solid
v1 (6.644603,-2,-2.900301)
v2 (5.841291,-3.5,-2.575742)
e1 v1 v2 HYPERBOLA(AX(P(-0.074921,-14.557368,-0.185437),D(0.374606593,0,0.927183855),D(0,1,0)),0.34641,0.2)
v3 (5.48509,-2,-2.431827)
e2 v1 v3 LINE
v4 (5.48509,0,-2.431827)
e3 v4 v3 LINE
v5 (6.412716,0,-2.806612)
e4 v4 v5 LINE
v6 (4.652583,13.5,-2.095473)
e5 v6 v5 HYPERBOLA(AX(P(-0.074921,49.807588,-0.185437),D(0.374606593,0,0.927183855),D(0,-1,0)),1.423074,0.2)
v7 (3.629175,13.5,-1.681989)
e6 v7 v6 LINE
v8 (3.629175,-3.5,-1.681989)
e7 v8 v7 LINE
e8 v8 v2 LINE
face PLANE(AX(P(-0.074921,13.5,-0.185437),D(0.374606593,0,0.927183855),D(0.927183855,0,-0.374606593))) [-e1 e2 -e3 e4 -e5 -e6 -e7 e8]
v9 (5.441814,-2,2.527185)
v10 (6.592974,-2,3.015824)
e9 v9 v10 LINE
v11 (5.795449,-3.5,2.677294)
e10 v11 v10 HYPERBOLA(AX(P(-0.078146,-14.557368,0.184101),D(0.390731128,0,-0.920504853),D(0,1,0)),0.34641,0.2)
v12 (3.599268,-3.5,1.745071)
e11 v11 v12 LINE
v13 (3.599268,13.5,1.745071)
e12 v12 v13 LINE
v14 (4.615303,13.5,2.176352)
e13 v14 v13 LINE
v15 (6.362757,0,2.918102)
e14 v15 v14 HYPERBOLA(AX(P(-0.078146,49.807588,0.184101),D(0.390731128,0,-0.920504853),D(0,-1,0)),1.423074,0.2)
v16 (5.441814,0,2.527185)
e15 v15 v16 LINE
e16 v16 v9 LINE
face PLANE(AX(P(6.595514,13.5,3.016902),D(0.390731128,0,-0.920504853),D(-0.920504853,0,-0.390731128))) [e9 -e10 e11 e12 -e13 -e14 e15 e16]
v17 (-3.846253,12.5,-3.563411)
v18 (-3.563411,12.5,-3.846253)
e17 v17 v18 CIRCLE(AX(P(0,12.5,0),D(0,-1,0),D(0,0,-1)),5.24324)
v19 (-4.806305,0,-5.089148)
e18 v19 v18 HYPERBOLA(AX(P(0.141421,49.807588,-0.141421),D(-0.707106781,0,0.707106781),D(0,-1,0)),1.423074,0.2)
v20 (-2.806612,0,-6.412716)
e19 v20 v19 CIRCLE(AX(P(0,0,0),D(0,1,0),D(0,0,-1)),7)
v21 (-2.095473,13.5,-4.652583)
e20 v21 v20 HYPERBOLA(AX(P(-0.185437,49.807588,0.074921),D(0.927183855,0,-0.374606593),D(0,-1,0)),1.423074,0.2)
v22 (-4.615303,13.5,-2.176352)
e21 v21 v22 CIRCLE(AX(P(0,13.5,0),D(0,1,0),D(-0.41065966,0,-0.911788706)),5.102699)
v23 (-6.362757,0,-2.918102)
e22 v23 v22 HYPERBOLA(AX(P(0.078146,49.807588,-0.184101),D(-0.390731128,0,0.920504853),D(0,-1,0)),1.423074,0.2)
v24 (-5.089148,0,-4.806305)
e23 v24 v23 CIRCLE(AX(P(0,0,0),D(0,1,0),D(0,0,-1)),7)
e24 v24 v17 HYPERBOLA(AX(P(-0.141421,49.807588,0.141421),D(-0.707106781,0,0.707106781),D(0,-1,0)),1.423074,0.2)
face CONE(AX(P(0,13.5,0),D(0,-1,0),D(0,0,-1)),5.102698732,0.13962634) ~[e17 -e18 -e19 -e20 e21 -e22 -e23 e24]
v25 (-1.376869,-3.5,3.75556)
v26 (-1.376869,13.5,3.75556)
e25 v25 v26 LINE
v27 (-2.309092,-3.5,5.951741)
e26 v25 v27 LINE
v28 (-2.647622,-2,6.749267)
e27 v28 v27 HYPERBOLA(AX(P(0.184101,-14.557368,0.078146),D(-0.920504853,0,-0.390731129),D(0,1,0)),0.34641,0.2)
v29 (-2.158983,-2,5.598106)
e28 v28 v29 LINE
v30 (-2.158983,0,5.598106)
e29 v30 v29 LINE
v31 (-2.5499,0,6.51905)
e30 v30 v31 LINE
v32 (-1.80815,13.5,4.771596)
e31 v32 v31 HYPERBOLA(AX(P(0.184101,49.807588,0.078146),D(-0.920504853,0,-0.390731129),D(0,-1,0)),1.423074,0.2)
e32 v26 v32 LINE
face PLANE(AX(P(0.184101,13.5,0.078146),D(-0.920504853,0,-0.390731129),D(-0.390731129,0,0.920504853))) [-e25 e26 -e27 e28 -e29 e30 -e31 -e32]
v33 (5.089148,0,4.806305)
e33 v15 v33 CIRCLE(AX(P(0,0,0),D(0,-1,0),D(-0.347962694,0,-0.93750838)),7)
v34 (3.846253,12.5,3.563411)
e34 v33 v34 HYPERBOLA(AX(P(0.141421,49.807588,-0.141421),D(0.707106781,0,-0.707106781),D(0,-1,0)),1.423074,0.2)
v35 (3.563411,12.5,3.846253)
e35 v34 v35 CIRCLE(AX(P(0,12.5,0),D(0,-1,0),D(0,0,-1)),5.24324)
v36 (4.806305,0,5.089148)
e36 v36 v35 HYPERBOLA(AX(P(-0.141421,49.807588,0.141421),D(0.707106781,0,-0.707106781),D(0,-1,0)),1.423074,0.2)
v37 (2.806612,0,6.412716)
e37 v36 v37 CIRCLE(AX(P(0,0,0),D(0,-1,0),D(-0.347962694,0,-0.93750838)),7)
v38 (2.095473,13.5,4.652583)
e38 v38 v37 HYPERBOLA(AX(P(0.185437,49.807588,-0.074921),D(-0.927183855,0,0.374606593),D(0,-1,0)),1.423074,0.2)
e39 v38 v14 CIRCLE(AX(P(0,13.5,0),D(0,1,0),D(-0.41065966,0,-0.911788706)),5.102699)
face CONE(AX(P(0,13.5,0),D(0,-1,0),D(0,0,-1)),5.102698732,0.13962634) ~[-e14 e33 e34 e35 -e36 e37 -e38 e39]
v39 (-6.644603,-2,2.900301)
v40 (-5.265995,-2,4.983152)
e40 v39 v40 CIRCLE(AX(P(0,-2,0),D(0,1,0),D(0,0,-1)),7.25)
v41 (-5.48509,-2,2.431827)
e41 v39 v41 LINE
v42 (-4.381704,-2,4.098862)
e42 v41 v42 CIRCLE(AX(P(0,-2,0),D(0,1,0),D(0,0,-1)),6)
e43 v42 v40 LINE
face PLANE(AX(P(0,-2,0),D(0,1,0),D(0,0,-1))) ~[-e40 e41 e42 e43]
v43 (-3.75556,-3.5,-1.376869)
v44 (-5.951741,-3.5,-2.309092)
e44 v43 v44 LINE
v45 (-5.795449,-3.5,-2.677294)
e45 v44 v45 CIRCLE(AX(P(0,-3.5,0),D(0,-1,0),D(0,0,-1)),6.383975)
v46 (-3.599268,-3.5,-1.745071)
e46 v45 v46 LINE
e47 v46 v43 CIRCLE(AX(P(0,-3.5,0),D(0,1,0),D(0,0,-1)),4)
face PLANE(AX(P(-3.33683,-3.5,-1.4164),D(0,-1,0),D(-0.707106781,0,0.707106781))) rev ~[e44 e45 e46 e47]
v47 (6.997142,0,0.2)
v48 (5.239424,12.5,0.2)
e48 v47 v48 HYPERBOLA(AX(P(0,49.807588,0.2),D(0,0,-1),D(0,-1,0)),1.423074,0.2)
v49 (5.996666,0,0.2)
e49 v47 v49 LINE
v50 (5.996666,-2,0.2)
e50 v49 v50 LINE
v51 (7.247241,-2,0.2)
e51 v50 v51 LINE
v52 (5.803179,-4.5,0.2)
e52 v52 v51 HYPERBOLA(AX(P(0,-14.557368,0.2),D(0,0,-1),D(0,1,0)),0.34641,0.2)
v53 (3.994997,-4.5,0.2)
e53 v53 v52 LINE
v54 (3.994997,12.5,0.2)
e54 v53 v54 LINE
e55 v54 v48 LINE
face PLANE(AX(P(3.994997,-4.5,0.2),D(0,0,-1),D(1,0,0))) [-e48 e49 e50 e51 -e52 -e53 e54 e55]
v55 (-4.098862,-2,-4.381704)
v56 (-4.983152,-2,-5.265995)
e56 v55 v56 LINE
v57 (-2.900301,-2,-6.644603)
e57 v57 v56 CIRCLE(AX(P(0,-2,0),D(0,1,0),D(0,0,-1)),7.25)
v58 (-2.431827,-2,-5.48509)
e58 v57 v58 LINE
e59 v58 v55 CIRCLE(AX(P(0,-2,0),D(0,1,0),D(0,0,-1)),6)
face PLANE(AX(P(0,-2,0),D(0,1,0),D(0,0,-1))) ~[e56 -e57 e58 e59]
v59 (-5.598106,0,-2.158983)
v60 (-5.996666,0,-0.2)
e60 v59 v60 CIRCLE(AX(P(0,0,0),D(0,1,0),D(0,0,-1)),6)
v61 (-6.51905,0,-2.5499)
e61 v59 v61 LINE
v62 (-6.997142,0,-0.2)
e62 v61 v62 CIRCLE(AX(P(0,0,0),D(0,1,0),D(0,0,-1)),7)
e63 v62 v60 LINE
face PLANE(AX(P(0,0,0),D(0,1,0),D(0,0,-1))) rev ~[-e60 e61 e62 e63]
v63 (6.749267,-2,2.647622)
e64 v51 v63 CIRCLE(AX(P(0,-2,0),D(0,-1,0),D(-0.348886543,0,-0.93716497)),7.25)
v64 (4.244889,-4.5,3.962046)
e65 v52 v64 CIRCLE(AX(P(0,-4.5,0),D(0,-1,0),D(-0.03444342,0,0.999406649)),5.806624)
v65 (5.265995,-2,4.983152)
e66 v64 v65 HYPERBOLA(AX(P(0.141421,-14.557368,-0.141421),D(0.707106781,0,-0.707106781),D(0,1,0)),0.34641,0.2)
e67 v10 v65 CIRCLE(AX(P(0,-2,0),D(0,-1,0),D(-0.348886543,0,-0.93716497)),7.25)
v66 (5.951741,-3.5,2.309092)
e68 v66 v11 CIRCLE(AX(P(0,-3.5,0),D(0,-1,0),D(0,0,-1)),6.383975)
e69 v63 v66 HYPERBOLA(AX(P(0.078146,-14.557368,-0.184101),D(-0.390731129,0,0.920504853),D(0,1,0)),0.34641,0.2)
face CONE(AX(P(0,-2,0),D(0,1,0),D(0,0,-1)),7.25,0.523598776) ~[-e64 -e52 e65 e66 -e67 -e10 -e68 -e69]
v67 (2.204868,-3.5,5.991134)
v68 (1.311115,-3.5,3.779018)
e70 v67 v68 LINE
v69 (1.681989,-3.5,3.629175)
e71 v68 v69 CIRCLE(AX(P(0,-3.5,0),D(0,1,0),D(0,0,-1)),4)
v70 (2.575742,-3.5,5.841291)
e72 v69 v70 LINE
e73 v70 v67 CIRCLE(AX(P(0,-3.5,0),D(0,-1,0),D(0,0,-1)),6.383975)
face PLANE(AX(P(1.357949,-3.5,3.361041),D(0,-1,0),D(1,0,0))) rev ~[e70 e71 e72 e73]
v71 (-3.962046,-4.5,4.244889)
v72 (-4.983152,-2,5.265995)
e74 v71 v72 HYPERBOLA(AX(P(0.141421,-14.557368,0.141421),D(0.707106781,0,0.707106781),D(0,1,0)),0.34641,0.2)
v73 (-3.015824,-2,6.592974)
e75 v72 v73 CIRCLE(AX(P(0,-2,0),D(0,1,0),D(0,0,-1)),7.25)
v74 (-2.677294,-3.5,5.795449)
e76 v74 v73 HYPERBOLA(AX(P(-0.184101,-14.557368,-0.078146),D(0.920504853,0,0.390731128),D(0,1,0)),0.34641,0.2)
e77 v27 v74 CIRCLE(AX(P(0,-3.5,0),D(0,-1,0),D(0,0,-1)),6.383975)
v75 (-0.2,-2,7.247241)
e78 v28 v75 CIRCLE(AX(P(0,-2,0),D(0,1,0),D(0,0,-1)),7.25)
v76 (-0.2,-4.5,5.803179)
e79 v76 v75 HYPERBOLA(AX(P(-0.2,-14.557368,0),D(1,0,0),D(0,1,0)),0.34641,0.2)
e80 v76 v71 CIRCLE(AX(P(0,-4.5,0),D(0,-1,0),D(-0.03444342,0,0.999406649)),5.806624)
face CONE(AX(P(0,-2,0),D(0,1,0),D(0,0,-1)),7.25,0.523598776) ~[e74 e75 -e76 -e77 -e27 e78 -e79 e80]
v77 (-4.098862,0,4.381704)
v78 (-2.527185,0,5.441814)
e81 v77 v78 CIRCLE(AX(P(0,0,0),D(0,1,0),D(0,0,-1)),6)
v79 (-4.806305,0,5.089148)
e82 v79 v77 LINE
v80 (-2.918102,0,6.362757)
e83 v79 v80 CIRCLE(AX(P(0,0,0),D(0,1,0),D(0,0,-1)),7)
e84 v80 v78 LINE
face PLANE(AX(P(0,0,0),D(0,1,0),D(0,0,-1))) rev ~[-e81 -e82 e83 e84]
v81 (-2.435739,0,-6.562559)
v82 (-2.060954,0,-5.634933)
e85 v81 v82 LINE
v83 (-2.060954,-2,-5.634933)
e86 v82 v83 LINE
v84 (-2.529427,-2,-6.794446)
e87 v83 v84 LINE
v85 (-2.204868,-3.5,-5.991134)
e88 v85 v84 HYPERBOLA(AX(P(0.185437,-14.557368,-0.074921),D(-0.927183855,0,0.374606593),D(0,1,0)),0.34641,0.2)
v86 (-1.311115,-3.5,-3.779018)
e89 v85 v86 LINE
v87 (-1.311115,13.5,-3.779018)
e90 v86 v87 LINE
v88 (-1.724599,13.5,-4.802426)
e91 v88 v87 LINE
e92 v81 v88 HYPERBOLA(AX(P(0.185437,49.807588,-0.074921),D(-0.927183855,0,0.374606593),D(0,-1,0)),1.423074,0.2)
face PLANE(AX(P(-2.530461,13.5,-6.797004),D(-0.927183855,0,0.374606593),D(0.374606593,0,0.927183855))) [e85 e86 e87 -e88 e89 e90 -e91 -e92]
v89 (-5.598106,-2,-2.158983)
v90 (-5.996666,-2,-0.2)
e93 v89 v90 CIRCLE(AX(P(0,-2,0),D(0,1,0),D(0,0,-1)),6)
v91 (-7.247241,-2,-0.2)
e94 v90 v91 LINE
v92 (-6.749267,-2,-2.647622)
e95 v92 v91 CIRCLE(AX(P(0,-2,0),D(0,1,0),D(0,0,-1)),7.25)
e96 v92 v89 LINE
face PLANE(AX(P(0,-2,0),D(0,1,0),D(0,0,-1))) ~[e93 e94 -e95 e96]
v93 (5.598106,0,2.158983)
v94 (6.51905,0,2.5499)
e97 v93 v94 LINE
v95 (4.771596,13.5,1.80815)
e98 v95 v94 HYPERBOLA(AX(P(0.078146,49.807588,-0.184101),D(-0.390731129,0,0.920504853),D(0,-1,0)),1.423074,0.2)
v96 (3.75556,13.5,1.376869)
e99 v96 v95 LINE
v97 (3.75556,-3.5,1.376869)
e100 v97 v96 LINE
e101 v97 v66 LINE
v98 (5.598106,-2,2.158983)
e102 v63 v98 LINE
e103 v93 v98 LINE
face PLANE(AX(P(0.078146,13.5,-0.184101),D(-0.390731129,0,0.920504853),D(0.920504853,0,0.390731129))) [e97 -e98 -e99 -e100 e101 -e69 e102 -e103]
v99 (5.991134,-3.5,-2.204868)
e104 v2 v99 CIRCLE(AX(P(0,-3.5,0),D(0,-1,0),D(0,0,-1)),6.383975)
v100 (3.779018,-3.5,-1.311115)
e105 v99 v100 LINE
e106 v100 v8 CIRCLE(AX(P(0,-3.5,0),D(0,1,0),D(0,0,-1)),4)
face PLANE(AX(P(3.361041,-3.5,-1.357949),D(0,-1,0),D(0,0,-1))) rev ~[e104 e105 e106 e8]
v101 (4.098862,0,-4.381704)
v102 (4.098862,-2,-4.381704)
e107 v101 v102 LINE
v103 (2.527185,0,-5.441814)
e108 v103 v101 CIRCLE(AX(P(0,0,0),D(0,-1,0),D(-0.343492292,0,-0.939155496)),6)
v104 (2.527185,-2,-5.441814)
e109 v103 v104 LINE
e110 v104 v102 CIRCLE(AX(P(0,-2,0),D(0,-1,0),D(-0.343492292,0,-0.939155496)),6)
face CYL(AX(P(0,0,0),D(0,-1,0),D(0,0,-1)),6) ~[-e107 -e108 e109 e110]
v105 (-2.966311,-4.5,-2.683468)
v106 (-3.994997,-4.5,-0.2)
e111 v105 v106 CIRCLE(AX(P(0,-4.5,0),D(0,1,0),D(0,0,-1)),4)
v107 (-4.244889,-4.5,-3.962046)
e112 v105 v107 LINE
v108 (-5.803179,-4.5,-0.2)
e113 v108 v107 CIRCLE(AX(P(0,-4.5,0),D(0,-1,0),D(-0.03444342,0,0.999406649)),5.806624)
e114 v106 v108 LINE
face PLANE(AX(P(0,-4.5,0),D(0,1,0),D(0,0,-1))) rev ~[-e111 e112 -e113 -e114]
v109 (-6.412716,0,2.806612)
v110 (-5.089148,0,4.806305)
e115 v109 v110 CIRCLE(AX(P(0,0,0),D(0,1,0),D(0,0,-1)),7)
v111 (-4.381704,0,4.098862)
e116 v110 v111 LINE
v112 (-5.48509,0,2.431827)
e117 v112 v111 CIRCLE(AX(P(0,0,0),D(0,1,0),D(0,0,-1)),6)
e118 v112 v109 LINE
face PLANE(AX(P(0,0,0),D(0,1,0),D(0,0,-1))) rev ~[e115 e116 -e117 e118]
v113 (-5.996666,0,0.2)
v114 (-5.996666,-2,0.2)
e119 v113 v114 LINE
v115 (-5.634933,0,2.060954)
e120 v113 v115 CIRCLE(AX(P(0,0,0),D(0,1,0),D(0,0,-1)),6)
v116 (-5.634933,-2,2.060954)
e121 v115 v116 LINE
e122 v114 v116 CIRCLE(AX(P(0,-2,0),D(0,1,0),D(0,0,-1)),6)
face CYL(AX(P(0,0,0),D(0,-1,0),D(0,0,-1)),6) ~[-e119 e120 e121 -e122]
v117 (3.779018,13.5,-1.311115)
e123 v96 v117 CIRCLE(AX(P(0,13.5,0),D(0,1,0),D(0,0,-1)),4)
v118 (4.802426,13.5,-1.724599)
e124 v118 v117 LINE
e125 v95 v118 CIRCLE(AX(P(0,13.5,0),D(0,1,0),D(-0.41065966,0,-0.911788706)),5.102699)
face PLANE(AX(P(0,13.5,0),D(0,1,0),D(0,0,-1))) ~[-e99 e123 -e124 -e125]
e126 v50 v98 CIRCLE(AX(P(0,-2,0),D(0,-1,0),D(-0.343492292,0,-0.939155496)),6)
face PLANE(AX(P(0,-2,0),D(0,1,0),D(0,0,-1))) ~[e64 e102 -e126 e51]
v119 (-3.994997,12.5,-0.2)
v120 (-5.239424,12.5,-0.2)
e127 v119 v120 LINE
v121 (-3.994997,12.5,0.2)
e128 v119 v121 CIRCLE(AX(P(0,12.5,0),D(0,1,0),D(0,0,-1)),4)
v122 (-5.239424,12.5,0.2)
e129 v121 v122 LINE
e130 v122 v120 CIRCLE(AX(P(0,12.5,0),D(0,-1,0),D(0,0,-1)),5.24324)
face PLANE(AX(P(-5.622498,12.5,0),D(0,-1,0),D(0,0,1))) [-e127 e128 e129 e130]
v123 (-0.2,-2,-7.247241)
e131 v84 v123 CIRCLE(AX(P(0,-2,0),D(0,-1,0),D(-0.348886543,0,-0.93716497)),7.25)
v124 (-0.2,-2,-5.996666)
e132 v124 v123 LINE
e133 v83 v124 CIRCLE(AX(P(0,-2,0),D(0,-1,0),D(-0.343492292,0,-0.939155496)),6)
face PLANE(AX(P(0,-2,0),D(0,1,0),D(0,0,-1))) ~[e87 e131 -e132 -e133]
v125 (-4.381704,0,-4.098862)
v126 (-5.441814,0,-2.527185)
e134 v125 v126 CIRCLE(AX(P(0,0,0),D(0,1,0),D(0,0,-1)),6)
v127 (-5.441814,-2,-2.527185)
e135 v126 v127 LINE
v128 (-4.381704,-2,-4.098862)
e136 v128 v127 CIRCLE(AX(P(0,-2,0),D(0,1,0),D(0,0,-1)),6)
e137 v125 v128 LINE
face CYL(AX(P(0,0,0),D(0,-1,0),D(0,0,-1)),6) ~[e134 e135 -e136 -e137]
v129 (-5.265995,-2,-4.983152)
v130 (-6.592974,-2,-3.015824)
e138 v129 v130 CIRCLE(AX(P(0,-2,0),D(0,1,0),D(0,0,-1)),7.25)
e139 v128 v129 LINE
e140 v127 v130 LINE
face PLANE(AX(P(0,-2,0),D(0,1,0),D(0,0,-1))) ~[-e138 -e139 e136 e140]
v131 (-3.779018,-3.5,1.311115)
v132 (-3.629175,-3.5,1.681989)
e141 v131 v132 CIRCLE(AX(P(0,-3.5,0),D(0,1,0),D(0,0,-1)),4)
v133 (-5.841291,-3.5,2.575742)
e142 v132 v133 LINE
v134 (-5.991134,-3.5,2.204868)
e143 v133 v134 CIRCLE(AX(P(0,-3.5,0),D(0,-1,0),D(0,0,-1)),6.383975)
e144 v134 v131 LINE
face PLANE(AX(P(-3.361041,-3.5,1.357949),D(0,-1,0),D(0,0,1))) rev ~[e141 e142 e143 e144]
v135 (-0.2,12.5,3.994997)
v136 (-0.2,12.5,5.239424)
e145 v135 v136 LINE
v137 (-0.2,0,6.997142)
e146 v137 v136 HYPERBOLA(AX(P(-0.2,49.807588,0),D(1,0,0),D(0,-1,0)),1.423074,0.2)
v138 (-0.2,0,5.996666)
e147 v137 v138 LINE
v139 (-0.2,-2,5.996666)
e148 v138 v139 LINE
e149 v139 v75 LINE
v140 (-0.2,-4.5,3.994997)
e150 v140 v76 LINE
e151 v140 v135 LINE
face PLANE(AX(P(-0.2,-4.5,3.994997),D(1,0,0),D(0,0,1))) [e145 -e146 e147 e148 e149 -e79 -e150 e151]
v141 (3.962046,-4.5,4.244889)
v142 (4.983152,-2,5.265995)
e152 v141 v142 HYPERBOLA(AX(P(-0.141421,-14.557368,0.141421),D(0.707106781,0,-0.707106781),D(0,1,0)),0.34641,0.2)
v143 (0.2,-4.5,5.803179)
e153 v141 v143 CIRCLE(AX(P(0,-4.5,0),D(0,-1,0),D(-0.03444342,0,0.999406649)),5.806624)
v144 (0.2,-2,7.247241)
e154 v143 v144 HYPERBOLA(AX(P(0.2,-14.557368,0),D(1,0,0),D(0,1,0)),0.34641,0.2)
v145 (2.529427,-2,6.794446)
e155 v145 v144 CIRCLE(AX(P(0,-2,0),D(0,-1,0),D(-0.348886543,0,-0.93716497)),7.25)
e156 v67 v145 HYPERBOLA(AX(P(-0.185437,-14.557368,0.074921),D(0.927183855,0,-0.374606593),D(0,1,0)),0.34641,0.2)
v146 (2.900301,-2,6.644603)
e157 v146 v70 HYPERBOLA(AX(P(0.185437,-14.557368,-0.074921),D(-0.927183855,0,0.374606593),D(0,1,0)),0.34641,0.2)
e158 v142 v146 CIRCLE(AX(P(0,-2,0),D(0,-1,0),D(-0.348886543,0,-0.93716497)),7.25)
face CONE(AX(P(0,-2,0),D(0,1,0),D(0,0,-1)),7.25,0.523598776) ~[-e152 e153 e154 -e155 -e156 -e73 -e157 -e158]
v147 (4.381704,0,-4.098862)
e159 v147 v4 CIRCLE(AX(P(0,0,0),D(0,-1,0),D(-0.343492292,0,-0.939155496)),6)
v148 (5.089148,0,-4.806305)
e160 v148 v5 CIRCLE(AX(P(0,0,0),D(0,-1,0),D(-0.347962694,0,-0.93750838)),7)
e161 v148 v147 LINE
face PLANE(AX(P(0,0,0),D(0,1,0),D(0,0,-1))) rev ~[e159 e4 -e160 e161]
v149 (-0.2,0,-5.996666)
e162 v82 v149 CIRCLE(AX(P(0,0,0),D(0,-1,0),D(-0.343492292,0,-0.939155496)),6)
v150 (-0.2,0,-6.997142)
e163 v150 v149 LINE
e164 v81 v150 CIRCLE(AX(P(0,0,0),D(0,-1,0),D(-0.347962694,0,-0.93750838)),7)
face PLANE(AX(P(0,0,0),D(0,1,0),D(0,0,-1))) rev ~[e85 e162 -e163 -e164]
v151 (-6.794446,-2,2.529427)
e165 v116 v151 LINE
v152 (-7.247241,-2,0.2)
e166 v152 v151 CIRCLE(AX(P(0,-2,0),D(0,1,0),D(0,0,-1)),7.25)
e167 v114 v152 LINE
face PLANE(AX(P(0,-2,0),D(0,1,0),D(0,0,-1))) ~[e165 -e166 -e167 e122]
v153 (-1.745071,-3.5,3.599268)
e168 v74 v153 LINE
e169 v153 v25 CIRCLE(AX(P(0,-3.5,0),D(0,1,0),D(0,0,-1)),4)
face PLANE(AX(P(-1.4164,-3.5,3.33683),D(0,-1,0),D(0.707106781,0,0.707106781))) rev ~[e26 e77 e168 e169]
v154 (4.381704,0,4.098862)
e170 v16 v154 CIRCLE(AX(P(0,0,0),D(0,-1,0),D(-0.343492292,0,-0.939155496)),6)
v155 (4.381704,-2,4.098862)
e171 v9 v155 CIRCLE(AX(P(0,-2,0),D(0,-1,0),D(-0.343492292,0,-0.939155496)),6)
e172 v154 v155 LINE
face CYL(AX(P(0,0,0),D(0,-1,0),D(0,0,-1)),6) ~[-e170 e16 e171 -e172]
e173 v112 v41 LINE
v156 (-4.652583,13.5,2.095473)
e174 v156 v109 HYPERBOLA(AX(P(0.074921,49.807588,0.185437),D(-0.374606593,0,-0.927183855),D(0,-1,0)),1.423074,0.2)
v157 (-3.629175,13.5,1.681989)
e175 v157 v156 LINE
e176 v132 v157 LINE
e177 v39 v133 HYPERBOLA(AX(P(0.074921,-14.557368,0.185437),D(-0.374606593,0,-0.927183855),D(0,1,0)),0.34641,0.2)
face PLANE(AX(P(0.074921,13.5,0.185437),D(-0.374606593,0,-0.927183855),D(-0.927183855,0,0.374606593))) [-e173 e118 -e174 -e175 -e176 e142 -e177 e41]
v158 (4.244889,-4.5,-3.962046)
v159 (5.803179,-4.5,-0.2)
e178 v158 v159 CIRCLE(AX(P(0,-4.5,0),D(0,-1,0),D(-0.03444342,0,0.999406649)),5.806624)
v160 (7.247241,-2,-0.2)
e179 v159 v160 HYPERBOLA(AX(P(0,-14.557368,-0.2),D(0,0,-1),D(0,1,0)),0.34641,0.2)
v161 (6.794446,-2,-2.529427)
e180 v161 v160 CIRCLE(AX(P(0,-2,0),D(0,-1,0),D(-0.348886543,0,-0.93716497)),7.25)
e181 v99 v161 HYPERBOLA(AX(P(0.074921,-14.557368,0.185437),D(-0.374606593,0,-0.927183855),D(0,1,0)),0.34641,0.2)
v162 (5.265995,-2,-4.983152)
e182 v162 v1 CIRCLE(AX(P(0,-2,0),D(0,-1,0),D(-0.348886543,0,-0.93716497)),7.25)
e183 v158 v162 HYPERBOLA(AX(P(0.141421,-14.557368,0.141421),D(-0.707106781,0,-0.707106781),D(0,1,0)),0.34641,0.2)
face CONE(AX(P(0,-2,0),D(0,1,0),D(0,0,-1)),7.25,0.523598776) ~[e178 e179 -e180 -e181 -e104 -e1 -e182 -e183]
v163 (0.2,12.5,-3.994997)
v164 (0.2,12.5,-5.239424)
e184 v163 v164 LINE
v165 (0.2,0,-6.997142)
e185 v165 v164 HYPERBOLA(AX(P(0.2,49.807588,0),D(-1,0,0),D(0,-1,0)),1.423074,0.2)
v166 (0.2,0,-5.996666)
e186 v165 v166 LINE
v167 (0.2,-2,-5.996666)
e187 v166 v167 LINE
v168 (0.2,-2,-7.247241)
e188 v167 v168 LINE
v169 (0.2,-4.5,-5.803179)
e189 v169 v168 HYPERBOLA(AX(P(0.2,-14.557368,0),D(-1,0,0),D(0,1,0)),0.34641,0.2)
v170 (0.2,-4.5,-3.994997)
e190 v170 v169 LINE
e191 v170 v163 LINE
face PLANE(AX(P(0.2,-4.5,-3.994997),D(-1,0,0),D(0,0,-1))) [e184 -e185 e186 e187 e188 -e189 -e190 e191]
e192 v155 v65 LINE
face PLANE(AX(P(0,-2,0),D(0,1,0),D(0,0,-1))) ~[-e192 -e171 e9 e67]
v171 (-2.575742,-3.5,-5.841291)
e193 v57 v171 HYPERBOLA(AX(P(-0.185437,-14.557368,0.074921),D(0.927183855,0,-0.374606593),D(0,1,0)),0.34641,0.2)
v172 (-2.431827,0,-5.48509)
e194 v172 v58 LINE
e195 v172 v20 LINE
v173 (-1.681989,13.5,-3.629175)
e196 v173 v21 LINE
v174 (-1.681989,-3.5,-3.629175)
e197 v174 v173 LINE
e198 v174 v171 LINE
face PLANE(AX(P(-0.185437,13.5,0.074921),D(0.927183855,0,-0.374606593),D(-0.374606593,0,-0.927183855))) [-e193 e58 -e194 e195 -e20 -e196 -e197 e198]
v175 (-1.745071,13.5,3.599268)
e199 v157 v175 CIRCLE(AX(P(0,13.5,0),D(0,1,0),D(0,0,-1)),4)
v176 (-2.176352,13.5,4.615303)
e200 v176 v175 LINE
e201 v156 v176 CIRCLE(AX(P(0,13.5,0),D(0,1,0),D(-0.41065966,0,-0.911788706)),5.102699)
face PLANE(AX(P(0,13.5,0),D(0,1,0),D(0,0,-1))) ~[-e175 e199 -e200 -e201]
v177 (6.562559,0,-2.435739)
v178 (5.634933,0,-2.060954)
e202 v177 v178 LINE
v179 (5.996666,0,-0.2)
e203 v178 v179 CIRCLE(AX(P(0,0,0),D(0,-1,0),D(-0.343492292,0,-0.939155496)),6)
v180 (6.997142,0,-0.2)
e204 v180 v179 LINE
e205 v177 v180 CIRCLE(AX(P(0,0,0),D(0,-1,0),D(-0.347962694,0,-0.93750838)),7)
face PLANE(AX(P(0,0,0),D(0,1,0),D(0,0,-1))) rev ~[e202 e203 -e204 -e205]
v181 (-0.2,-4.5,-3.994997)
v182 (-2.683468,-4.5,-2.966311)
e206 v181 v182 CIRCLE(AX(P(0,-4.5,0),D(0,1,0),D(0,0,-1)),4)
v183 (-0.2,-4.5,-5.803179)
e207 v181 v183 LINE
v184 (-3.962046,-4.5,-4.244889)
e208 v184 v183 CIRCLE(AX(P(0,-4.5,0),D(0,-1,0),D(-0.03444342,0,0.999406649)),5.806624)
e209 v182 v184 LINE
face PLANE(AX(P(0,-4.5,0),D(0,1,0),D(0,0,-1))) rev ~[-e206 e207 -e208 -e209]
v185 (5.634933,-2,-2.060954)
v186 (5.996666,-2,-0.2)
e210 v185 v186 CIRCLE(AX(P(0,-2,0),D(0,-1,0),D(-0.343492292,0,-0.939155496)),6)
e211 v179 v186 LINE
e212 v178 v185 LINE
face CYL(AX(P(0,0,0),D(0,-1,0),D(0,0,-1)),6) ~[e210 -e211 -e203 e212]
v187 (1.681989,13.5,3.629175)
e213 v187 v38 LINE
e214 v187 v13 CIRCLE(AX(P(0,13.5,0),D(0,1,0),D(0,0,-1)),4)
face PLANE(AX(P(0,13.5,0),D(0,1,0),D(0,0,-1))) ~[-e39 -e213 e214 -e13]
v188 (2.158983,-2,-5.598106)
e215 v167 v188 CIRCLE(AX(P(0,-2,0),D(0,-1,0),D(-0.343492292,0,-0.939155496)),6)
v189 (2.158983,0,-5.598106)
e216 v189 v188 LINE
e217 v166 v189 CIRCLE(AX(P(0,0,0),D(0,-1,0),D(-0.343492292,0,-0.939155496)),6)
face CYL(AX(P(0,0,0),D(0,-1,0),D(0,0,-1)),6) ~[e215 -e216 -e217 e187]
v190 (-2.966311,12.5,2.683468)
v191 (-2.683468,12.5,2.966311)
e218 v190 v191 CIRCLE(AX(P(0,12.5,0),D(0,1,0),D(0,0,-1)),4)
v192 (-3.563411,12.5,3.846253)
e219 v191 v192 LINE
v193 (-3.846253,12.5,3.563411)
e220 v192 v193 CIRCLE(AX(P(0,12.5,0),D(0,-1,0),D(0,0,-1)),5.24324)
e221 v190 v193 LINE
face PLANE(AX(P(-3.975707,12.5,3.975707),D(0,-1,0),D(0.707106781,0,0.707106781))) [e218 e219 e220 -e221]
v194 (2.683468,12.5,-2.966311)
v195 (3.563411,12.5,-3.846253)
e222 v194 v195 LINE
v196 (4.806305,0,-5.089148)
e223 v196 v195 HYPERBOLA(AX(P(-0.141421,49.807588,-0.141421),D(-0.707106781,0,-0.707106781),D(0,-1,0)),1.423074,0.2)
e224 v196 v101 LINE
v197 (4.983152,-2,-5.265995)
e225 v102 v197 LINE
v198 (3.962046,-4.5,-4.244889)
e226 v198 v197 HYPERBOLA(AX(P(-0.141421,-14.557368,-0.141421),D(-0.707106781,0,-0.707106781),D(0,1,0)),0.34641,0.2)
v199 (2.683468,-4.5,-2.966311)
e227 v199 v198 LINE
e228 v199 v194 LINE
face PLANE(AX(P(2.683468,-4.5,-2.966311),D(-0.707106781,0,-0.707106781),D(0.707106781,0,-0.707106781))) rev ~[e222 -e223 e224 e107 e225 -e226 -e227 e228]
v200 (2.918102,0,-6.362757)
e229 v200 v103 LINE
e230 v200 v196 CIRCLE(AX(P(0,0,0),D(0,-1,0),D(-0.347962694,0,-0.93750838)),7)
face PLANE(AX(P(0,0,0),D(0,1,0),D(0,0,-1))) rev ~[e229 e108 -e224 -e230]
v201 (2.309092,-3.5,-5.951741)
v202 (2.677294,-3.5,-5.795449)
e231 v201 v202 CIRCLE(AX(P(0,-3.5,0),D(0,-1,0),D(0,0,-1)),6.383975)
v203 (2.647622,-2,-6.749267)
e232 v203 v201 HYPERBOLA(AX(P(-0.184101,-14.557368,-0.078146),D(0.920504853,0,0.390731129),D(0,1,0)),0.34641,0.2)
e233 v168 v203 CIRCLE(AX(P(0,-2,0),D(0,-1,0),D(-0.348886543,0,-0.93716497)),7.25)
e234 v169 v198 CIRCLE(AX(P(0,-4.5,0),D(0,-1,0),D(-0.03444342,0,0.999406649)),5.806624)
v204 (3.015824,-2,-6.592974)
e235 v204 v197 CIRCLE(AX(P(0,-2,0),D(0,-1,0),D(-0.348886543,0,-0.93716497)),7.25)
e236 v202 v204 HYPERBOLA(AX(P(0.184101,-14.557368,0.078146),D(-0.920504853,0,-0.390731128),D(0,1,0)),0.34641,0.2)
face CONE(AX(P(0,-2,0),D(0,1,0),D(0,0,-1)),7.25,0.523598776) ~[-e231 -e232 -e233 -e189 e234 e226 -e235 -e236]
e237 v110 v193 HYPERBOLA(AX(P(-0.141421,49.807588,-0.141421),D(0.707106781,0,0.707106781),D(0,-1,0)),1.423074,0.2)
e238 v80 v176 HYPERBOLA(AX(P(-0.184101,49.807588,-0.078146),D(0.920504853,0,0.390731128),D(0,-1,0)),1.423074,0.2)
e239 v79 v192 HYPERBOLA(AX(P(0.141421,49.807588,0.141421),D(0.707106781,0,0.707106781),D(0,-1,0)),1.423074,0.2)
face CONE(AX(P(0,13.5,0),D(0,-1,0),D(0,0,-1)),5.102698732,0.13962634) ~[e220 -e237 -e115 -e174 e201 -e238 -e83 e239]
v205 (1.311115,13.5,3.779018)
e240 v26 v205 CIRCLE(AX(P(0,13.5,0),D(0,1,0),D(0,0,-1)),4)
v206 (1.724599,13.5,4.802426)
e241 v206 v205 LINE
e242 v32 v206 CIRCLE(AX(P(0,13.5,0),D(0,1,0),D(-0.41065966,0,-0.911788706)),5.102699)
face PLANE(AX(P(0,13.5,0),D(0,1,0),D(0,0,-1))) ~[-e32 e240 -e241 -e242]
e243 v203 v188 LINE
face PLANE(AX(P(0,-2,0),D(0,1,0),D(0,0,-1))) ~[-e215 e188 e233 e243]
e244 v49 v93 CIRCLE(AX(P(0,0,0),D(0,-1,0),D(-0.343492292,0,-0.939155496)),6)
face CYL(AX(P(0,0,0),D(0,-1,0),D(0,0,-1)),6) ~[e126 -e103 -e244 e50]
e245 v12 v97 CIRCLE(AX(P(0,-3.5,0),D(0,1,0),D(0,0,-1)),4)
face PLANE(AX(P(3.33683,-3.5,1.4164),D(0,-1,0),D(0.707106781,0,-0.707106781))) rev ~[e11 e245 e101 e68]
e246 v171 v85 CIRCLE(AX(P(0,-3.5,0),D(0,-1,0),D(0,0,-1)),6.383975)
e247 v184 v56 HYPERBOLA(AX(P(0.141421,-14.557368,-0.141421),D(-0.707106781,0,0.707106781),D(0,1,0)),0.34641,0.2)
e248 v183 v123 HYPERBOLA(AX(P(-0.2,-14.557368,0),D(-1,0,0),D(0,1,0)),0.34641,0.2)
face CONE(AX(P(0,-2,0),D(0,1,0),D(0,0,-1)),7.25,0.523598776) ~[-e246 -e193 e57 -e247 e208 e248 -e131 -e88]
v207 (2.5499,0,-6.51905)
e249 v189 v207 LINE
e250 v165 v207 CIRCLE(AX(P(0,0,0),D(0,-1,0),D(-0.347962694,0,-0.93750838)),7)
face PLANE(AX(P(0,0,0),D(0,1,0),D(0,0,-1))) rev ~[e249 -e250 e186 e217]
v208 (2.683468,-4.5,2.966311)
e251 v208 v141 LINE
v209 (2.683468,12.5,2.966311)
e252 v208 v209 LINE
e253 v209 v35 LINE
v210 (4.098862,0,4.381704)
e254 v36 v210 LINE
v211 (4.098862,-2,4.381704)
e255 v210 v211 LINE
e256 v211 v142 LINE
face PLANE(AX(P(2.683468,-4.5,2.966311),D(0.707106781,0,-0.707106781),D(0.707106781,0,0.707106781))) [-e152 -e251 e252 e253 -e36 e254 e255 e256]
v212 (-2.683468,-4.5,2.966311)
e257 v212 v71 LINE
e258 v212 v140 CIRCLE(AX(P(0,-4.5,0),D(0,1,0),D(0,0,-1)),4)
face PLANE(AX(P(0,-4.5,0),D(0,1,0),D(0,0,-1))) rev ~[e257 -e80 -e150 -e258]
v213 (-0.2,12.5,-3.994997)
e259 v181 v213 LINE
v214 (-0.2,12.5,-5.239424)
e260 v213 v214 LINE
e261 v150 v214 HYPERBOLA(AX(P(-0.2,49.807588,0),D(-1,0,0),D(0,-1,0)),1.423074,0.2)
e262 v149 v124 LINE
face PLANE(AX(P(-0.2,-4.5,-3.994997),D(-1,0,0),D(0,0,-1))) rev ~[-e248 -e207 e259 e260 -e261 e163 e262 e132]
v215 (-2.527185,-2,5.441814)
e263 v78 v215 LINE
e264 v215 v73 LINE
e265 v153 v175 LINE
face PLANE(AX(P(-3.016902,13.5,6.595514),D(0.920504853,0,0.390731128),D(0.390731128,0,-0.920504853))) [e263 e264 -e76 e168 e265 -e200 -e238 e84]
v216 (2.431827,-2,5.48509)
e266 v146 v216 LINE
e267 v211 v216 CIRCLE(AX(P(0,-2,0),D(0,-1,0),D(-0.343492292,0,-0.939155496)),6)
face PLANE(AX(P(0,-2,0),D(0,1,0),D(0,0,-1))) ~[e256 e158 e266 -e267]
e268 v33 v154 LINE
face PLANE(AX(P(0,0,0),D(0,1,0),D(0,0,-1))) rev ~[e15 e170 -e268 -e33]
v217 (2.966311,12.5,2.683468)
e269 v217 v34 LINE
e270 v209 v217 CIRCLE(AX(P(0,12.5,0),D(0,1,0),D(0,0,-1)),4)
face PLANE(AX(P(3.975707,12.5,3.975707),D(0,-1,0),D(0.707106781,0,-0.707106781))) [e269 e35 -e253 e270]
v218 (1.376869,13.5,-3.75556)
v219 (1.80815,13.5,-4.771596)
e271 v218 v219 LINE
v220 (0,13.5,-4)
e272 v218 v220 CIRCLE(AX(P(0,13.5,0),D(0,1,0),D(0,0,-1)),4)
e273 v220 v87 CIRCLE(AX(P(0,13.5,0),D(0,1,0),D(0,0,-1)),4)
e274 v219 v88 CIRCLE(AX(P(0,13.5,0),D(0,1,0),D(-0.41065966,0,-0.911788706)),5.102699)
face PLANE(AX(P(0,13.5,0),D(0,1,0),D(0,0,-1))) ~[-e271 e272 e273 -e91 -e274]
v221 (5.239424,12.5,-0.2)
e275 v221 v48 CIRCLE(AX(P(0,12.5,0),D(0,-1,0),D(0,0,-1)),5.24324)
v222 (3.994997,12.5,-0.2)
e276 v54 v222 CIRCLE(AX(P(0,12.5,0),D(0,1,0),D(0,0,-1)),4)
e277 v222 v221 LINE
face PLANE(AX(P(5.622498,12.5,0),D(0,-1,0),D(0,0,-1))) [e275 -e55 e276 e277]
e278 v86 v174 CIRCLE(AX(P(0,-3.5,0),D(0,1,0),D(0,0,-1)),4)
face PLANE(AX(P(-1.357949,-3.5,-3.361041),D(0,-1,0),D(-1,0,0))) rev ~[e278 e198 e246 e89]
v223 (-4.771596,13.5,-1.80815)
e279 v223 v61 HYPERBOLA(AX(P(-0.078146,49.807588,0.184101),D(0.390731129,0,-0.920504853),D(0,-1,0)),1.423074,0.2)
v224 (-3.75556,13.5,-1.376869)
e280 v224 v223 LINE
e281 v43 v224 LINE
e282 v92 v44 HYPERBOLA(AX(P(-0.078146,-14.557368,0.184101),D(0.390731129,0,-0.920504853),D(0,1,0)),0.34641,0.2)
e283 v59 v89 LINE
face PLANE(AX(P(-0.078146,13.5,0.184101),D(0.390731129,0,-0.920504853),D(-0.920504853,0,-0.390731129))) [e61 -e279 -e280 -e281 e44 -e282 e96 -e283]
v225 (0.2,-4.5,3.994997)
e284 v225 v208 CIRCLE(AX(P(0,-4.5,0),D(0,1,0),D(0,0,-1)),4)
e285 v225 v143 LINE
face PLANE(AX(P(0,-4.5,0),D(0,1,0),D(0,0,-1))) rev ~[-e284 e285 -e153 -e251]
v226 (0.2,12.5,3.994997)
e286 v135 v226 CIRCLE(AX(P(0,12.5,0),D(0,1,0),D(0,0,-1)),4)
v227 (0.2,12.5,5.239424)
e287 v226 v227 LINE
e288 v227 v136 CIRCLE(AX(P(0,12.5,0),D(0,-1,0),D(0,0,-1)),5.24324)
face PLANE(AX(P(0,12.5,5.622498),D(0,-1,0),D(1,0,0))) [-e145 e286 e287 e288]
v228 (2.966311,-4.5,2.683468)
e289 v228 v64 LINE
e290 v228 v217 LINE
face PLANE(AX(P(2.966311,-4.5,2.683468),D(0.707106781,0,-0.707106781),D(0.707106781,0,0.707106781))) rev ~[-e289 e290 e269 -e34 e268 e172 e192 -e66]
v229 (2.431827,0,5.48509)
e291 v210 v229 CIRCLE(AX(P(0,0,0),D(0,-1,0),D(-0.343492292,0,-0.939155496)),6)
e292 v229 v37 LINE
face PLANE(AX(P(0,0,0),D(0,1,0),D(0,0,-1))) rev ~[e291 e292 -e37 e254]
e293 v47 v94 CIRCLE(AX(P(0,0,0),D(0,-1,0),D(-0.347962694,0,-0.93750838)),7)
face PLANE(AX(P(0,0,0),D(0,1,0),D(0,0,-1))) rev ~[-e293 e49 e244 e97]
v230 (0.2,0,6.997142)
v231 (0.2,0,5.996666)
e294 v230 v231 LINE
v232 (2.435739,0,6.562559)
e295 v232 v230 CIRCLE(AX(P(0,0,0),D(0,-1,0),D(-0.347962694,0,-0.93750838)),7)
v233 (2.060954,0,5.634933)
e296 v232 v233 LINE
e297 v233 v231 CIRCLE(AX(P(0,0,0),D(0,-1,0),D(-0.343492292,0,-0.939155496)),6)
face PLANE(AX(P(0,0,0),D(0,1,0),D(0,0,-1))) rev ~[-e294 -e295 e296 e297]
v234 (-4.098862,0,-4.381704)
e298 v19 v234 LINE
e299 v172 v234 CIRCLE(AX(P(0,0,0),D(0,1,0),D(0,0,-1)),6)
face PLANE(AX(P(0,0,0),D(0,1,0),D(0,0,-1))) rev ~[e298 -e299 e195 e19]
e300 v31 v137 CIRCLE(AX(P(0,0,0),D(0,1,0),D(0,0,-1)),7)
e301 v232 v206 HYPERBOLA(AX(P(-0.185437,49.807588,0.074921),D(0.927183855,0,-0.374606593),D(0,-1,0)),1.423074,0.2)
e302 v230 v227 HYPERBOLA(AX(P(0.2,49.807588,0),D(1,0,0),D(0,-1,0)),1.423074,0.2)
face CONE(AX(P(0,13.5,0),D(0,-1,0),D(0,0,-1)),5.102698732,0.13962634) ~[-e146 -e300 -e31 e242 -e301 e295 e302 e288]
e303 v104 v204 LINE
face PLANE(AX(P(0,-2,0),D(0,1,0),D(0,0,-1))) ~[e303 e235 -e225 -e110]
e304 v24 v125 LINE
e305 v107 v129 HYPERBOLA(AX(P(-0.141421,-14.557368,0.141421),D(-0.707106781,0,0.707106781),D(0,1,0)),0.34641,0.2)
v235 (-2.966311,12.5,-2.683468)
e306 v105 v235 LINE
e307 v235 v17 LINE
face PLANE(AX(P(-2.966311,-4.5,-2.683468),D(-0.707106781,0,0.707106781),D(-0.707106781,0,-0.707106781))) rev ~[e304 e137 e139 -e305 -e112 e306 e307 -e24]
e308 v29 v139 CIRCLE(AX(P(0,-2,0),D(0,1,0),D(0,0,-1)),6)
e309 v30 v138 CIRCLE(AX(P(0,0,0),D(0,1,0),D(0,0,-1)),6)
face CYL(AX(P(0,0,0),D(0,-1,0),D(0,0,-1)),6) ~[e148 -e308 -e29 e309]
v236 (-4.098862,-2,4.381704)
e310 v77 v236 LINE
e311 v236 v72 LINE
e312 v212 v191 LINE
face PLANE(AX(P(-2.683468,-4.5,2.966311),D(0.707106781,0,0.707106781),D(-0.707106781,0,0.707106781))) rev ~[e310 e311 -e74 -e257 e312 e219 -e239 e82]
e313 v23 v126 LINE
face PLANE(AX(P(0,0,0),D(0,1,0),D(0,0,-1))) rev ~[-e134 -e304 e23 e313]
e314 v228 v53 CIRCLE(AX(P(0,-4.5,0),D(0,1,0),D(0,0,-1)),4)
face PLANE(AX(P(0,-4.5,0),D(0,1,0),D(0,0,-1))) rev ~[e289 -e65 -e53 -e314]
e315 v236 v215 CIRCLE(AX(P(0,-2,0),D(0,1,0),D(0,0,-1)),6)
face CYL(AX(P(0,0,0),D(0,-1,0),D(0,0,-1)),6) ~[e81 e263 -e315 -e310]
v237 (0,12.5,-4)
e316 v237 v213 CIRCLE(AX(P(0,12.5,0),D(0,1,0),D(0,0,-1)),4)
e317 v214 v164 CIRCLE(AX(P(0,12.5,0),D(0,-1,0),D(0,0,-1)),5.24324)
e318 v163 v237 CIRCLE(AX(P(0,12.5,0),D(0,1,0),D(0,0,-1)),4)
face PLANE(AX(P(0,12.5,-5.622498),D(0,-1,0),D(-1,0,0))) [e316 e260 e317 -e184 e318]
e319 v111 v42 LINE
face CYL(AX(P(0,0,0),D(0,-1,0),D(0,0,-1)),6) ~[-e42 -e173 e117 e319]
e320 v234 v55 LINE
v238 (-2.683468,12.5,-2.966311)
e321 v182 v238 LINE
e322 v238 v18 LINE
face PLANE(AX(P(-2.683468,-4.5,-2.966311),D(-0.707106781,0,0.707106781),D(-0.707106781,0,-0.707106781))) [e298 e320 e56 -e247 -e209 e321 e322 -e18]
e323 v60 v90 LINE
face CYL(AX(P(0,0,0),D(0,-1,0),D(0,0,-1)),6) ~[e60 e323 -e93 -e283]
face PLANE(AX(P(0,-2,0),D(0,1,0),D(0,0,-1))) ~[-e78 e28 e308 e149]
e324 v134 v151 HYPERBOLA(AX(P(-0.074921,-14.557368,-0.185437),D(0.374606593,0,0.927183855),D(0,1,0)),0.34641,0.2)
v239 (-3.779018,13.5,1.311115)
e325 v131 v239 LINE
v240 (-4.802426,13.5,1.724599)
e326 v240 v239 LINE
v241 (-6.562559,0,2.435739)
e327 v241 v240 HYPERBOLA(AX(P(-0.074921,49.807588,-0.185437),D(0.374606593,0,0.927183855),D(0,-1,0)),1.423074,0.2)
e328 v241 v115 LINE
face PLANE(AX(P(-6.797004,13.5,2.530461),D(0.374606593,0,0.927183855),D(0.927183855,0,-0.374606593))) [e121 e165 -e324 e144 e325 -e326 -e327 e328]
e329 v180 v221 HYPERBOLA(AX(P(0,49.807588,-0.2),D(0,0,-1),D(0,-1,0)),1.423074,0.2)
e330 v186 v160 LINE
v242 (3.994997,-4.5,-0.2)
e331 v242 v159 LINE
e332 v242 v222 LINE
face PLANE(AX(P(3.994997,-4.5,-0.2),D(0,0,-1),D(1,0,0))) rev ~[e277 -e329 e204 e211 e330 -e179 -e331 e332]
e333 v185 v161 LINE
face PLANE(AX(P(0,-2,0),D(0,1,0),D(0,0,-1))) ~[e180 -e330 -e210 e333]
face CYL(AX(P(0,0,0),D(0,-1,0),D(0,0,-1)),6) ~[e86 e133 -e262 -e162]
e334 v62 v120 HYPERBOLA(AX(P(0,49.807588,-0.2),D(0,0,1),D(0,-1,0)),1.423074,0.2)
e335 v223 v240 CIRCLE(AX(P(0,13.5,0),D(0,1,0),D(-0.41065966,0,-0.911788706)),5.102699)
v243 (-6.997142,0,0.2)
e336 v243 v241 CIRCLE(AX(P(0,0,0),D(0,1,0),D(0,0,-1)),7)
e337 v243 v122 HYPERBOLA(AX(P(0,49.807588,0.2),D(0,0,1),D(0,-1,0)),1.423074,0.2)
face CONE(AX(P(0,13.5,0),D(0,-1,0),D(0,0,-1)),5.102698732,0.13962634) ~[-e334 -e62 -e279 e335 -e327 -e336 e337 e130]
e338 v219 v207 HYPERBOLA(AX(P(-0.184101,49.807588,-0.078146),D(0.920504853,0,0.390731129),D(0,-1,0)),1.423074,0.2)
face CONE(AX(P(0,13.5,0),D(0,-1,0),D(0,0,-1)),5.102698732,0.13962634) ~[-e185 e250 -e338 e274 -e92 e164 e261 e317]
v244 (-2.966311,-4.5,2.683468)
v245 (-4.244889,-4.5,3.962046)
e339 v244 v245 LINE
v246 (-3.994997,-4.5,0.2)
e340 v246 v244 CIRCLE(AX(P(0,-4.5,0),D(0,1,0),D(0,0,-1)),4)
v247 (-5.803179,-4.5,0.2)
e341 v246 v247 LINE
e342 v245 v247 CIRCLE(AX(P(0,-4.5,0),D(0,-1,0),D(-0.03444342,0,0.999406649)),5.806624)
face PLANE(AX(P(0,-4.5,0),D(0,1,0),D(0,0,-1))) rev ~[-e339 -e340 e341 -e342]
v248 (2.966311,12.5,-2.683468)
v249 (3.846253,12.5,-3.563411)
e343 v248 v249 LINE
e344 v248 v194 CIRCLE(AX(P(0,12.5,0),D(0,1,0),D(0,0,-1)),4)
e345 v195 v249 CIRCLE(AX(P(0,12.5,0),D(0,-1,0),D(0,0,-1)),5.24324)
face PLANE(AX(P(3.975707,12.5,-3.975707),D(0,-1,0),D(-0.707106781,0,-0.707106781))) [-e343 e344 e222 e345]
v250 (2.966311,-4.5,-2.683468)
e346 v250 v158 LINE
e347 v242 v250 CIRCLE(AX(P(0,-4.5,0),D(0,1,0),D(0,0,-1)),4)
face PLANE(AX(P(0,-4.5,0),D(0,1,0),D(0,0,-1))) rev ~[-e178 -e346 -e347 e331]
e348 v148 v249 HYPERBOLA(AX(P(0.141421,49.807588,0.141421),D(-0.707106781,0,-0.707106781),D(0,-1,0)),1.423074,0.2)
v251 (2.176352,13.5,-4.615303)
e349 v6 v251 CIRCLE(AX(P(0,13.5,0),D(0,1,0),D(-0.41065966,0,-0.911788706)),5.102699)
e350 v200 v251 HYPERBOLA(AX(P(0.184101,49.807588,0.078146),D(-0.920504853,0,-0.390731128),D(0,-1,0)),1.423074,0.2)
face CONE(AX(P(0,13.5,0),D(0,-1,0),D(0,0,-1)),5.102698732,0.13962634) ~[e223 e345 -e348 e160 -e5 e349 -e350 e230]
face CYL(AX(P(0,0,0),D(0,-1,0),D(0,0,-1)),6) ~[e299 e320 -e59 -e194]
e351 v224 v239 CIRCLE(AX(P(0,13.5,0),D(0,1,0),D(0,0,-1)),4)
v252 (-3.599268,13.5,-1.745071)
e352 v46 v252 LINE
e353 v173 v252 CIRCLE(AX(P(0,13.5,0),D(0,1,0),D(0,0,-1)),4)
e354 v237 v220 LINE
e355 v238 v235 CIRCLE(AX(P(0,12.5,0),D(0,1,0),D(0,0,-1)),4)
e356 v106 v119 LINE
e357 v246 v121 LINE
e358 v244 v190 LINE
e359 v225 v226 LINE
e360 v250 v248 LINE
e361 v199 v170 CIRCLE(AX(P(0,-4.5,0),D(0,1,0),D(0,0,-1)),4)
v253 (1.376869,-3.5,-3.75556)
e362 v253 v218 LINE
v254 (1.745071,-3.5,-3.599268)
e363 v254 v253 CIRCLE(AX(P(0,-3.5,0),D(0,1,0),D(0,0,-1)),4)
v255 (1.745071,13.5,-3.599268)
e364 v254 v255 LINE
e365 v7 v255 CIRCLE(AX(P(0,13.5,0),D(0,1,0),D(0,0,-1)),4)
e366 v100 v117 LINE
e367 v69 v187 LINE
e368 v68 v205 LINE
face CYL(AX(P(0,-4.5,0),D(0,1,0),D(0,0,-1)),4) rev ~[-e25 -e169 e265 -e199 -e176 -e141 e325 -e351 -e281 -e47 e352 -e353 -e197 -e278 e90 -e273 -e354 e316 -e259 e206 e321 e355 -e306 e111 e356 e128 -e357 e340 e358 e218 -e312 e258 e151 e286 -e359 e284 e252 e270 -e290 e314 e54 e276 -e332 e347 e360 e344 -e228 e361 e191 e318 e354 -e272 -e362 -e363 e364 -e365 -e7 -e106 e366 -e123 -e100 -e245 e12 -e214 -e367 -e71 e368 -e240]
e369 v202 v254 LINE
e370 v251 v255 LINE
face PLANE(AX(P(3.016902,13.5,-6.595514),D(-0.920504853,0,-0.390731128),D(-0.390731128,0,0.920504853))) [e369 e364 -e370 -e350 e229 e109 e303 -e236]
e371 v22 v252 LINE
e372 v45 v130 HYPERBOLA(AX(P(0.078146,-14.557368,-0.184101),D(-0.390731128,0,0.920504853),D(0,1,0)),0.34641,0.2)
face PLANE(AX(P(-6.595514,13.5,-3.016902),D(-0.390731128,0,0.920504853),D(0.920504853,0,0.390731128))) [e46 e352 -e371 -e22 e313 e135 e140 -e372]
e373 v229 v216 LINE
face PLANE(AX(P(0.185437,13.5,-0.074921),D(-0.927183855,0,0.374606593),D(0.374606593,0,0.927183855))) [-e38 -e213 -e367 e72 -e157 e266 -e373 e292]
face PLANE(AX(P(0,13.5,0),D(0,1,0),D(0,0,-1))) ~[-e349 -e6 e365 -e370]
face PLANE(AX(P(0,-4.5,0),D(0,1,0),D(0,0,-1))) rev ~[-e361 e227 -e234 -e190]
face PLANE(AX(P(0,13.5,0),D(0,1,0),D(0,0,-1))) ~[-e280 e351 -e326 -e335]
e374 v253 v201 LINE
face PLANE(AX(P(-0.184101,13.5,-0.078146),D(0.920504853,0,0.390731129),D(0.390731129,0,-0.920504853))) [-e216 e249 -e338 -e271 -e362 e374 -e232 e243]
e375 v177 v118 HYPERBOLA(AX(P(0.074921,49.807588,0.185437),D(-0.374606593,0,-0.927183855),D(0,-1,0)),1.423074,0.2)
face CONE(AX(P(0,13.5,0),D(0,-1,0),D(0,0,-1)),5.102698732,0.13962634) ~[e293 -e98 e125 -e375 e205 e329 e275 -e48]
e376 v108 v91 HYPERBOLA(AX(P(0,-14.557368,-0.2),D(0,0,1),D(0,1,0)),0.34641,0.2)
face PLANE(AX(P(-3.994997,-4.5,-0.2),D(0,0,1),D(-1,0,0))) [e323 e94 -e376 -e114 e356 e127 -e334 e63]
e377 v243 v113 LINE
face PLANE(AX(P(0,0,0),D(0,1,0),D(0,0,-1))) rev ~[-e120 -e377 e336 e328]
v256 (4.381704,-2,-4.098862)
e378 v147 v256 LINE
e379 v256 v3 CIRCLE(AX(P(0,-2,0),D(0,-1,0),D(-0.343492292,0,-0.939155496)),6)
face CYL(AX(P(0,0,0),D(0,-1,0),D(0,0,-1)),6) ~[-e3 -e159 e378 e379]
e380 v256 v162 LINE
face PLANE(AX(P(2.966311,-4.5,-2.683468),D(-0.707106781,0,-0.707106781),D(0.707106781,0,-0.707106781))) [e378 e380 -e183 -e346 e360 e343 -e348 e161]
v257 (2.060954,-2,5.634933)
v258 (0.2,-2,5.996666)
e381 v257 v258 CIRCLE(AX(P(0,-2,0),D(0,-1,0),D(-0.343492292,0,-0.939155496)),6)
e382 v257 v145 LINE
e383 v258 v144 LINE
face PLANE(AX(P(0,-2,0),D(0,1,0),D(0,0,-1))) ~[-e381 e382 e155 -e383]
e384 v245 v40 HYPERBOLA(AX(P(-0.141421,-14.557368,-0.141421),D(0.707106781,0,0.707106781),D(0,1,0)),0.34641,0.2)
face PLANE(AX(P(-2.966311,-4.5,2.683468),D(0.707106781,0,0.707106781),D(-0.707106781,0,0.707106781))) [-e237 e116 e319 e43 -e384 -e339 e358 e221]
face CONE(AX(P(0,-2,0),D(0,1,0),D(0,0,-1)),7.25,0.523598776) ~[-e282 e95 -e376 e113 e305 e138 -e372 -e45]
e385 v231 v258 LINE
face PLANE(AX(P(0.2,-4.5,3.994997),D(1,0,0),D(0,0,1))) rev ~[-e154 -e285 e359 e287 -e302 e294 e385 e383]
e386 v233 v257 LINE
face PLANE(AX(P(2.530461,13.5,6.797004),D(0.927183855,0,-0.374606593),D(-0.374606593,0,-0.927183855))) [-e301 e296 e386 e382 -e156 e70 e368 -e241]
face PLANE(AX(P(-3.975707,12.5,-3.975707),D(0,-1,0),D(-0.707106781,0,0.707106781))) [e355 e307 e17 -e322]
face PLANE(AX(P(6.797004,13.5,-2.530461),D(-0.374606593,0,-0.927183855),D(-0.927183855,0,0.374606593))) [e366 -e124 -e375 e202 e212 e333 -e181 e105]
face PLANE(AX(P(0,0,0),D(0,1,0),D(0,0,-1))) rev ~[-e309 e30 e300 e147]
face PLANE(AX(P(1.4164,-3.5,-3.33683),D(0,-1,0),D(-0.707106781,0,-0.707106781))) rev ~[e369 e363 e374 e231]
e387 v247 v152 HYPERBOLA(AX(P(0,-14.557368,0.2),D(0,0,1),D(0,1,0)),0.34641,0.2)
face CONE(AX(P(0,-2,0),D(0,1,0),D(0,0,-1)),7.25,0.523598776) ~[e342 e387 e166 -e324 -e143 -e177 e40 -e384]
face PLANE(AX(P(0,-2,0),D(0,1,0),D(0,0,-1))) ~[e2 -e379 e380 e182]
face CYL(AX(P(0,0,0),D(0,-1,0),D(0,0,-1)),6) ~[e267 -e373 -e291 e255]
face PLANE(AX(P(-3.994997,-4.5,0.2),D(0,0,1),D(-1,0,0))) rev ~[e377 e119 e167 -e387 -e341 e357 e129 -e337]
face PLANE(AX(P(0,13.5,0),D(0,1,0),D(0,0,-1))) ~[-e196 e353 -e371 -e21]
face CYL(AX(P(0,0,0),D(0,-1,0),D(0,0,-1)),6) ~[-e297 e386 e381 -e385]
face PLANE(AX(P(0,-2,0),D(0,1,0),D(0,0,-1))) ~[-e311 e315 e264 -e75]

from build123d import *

# Parameters (mm, degrees)
SKETCH2_W               = 0.4
SKETCH2_H               = 3.255003129
EXTRUDED_CUT1_DEPTH     = 17
EXTRUDED_CUT2_DEPTH     = 17
CIRCULAR_PATTERN1_COUNT = 8


with BuildPart() as part:
    # Sketch1 → Rotation1 (revolve)
    with BuildSketch(Plane.XY):
        Polygon((-4, -4.5), (-4, 13.5), (-5.102698732, 13.5), (-7, 0), (-6, 0), (-6, -2), (-7.25, -2), (-5.806624327, -4.5), align=None)
    revolve(axis=Axis((0, 0, 0), (0, 1, 0)))

    # Sketch2 → Extruded Cut1 (cut)
    with BuildSketch(Plane.XZ.offset(4.5)):
        with Locations((0, 5.622498436)):
            Rectangle(SKETCH2_W, SKETCH2_H)
    extruded_cut1 = extrude(amount=-EXTRUDED_CUT1_DEPTH, mode=Mode.SUBTRACT)

    # Sketch3 → Extruded Cut2 (cut)
    with BuildSketch(Plane(origin=(0, 13.5, 0), x_dir=(1, 0, 0), z_dir=(0, 1, 0))):
        Polygon((-0.185436771, -0.074921319), (-2.901334573, 6.647161627), (-2.530461031, 6.797004264), (0.185436771, 0.074921319), align=None)
    extruded_cut2 = extrude(amount=-EXTRUDED_CUT2_DEPTH, mode=Mode.SUBTRACT)

    # Circular Pattern1: Extruded Cut1, Extruded Cut2 ×8 about axis
    circular_pattern1_axis = Axis((0, 13.5, 0), (0, -1, 0))
    add([extruded_cut1.rotate(circular_pattern1_axis, i * 360 / CIRCULAR_PATTERN1_COUNT) for i in range(1, CIRCULAR_PATTERN1_COUNT)], mode=Mode.SUBTRACT)
    add([extruded_cut2.rotate(circular_pattern1_axis, i * 360 / CIRCULAR_PATTERN1_COUNT) for i in range(1, CIRCULAR_PATTERN1_COUNT)], mode=Mode.SUBTRACT)


solid = part.part
